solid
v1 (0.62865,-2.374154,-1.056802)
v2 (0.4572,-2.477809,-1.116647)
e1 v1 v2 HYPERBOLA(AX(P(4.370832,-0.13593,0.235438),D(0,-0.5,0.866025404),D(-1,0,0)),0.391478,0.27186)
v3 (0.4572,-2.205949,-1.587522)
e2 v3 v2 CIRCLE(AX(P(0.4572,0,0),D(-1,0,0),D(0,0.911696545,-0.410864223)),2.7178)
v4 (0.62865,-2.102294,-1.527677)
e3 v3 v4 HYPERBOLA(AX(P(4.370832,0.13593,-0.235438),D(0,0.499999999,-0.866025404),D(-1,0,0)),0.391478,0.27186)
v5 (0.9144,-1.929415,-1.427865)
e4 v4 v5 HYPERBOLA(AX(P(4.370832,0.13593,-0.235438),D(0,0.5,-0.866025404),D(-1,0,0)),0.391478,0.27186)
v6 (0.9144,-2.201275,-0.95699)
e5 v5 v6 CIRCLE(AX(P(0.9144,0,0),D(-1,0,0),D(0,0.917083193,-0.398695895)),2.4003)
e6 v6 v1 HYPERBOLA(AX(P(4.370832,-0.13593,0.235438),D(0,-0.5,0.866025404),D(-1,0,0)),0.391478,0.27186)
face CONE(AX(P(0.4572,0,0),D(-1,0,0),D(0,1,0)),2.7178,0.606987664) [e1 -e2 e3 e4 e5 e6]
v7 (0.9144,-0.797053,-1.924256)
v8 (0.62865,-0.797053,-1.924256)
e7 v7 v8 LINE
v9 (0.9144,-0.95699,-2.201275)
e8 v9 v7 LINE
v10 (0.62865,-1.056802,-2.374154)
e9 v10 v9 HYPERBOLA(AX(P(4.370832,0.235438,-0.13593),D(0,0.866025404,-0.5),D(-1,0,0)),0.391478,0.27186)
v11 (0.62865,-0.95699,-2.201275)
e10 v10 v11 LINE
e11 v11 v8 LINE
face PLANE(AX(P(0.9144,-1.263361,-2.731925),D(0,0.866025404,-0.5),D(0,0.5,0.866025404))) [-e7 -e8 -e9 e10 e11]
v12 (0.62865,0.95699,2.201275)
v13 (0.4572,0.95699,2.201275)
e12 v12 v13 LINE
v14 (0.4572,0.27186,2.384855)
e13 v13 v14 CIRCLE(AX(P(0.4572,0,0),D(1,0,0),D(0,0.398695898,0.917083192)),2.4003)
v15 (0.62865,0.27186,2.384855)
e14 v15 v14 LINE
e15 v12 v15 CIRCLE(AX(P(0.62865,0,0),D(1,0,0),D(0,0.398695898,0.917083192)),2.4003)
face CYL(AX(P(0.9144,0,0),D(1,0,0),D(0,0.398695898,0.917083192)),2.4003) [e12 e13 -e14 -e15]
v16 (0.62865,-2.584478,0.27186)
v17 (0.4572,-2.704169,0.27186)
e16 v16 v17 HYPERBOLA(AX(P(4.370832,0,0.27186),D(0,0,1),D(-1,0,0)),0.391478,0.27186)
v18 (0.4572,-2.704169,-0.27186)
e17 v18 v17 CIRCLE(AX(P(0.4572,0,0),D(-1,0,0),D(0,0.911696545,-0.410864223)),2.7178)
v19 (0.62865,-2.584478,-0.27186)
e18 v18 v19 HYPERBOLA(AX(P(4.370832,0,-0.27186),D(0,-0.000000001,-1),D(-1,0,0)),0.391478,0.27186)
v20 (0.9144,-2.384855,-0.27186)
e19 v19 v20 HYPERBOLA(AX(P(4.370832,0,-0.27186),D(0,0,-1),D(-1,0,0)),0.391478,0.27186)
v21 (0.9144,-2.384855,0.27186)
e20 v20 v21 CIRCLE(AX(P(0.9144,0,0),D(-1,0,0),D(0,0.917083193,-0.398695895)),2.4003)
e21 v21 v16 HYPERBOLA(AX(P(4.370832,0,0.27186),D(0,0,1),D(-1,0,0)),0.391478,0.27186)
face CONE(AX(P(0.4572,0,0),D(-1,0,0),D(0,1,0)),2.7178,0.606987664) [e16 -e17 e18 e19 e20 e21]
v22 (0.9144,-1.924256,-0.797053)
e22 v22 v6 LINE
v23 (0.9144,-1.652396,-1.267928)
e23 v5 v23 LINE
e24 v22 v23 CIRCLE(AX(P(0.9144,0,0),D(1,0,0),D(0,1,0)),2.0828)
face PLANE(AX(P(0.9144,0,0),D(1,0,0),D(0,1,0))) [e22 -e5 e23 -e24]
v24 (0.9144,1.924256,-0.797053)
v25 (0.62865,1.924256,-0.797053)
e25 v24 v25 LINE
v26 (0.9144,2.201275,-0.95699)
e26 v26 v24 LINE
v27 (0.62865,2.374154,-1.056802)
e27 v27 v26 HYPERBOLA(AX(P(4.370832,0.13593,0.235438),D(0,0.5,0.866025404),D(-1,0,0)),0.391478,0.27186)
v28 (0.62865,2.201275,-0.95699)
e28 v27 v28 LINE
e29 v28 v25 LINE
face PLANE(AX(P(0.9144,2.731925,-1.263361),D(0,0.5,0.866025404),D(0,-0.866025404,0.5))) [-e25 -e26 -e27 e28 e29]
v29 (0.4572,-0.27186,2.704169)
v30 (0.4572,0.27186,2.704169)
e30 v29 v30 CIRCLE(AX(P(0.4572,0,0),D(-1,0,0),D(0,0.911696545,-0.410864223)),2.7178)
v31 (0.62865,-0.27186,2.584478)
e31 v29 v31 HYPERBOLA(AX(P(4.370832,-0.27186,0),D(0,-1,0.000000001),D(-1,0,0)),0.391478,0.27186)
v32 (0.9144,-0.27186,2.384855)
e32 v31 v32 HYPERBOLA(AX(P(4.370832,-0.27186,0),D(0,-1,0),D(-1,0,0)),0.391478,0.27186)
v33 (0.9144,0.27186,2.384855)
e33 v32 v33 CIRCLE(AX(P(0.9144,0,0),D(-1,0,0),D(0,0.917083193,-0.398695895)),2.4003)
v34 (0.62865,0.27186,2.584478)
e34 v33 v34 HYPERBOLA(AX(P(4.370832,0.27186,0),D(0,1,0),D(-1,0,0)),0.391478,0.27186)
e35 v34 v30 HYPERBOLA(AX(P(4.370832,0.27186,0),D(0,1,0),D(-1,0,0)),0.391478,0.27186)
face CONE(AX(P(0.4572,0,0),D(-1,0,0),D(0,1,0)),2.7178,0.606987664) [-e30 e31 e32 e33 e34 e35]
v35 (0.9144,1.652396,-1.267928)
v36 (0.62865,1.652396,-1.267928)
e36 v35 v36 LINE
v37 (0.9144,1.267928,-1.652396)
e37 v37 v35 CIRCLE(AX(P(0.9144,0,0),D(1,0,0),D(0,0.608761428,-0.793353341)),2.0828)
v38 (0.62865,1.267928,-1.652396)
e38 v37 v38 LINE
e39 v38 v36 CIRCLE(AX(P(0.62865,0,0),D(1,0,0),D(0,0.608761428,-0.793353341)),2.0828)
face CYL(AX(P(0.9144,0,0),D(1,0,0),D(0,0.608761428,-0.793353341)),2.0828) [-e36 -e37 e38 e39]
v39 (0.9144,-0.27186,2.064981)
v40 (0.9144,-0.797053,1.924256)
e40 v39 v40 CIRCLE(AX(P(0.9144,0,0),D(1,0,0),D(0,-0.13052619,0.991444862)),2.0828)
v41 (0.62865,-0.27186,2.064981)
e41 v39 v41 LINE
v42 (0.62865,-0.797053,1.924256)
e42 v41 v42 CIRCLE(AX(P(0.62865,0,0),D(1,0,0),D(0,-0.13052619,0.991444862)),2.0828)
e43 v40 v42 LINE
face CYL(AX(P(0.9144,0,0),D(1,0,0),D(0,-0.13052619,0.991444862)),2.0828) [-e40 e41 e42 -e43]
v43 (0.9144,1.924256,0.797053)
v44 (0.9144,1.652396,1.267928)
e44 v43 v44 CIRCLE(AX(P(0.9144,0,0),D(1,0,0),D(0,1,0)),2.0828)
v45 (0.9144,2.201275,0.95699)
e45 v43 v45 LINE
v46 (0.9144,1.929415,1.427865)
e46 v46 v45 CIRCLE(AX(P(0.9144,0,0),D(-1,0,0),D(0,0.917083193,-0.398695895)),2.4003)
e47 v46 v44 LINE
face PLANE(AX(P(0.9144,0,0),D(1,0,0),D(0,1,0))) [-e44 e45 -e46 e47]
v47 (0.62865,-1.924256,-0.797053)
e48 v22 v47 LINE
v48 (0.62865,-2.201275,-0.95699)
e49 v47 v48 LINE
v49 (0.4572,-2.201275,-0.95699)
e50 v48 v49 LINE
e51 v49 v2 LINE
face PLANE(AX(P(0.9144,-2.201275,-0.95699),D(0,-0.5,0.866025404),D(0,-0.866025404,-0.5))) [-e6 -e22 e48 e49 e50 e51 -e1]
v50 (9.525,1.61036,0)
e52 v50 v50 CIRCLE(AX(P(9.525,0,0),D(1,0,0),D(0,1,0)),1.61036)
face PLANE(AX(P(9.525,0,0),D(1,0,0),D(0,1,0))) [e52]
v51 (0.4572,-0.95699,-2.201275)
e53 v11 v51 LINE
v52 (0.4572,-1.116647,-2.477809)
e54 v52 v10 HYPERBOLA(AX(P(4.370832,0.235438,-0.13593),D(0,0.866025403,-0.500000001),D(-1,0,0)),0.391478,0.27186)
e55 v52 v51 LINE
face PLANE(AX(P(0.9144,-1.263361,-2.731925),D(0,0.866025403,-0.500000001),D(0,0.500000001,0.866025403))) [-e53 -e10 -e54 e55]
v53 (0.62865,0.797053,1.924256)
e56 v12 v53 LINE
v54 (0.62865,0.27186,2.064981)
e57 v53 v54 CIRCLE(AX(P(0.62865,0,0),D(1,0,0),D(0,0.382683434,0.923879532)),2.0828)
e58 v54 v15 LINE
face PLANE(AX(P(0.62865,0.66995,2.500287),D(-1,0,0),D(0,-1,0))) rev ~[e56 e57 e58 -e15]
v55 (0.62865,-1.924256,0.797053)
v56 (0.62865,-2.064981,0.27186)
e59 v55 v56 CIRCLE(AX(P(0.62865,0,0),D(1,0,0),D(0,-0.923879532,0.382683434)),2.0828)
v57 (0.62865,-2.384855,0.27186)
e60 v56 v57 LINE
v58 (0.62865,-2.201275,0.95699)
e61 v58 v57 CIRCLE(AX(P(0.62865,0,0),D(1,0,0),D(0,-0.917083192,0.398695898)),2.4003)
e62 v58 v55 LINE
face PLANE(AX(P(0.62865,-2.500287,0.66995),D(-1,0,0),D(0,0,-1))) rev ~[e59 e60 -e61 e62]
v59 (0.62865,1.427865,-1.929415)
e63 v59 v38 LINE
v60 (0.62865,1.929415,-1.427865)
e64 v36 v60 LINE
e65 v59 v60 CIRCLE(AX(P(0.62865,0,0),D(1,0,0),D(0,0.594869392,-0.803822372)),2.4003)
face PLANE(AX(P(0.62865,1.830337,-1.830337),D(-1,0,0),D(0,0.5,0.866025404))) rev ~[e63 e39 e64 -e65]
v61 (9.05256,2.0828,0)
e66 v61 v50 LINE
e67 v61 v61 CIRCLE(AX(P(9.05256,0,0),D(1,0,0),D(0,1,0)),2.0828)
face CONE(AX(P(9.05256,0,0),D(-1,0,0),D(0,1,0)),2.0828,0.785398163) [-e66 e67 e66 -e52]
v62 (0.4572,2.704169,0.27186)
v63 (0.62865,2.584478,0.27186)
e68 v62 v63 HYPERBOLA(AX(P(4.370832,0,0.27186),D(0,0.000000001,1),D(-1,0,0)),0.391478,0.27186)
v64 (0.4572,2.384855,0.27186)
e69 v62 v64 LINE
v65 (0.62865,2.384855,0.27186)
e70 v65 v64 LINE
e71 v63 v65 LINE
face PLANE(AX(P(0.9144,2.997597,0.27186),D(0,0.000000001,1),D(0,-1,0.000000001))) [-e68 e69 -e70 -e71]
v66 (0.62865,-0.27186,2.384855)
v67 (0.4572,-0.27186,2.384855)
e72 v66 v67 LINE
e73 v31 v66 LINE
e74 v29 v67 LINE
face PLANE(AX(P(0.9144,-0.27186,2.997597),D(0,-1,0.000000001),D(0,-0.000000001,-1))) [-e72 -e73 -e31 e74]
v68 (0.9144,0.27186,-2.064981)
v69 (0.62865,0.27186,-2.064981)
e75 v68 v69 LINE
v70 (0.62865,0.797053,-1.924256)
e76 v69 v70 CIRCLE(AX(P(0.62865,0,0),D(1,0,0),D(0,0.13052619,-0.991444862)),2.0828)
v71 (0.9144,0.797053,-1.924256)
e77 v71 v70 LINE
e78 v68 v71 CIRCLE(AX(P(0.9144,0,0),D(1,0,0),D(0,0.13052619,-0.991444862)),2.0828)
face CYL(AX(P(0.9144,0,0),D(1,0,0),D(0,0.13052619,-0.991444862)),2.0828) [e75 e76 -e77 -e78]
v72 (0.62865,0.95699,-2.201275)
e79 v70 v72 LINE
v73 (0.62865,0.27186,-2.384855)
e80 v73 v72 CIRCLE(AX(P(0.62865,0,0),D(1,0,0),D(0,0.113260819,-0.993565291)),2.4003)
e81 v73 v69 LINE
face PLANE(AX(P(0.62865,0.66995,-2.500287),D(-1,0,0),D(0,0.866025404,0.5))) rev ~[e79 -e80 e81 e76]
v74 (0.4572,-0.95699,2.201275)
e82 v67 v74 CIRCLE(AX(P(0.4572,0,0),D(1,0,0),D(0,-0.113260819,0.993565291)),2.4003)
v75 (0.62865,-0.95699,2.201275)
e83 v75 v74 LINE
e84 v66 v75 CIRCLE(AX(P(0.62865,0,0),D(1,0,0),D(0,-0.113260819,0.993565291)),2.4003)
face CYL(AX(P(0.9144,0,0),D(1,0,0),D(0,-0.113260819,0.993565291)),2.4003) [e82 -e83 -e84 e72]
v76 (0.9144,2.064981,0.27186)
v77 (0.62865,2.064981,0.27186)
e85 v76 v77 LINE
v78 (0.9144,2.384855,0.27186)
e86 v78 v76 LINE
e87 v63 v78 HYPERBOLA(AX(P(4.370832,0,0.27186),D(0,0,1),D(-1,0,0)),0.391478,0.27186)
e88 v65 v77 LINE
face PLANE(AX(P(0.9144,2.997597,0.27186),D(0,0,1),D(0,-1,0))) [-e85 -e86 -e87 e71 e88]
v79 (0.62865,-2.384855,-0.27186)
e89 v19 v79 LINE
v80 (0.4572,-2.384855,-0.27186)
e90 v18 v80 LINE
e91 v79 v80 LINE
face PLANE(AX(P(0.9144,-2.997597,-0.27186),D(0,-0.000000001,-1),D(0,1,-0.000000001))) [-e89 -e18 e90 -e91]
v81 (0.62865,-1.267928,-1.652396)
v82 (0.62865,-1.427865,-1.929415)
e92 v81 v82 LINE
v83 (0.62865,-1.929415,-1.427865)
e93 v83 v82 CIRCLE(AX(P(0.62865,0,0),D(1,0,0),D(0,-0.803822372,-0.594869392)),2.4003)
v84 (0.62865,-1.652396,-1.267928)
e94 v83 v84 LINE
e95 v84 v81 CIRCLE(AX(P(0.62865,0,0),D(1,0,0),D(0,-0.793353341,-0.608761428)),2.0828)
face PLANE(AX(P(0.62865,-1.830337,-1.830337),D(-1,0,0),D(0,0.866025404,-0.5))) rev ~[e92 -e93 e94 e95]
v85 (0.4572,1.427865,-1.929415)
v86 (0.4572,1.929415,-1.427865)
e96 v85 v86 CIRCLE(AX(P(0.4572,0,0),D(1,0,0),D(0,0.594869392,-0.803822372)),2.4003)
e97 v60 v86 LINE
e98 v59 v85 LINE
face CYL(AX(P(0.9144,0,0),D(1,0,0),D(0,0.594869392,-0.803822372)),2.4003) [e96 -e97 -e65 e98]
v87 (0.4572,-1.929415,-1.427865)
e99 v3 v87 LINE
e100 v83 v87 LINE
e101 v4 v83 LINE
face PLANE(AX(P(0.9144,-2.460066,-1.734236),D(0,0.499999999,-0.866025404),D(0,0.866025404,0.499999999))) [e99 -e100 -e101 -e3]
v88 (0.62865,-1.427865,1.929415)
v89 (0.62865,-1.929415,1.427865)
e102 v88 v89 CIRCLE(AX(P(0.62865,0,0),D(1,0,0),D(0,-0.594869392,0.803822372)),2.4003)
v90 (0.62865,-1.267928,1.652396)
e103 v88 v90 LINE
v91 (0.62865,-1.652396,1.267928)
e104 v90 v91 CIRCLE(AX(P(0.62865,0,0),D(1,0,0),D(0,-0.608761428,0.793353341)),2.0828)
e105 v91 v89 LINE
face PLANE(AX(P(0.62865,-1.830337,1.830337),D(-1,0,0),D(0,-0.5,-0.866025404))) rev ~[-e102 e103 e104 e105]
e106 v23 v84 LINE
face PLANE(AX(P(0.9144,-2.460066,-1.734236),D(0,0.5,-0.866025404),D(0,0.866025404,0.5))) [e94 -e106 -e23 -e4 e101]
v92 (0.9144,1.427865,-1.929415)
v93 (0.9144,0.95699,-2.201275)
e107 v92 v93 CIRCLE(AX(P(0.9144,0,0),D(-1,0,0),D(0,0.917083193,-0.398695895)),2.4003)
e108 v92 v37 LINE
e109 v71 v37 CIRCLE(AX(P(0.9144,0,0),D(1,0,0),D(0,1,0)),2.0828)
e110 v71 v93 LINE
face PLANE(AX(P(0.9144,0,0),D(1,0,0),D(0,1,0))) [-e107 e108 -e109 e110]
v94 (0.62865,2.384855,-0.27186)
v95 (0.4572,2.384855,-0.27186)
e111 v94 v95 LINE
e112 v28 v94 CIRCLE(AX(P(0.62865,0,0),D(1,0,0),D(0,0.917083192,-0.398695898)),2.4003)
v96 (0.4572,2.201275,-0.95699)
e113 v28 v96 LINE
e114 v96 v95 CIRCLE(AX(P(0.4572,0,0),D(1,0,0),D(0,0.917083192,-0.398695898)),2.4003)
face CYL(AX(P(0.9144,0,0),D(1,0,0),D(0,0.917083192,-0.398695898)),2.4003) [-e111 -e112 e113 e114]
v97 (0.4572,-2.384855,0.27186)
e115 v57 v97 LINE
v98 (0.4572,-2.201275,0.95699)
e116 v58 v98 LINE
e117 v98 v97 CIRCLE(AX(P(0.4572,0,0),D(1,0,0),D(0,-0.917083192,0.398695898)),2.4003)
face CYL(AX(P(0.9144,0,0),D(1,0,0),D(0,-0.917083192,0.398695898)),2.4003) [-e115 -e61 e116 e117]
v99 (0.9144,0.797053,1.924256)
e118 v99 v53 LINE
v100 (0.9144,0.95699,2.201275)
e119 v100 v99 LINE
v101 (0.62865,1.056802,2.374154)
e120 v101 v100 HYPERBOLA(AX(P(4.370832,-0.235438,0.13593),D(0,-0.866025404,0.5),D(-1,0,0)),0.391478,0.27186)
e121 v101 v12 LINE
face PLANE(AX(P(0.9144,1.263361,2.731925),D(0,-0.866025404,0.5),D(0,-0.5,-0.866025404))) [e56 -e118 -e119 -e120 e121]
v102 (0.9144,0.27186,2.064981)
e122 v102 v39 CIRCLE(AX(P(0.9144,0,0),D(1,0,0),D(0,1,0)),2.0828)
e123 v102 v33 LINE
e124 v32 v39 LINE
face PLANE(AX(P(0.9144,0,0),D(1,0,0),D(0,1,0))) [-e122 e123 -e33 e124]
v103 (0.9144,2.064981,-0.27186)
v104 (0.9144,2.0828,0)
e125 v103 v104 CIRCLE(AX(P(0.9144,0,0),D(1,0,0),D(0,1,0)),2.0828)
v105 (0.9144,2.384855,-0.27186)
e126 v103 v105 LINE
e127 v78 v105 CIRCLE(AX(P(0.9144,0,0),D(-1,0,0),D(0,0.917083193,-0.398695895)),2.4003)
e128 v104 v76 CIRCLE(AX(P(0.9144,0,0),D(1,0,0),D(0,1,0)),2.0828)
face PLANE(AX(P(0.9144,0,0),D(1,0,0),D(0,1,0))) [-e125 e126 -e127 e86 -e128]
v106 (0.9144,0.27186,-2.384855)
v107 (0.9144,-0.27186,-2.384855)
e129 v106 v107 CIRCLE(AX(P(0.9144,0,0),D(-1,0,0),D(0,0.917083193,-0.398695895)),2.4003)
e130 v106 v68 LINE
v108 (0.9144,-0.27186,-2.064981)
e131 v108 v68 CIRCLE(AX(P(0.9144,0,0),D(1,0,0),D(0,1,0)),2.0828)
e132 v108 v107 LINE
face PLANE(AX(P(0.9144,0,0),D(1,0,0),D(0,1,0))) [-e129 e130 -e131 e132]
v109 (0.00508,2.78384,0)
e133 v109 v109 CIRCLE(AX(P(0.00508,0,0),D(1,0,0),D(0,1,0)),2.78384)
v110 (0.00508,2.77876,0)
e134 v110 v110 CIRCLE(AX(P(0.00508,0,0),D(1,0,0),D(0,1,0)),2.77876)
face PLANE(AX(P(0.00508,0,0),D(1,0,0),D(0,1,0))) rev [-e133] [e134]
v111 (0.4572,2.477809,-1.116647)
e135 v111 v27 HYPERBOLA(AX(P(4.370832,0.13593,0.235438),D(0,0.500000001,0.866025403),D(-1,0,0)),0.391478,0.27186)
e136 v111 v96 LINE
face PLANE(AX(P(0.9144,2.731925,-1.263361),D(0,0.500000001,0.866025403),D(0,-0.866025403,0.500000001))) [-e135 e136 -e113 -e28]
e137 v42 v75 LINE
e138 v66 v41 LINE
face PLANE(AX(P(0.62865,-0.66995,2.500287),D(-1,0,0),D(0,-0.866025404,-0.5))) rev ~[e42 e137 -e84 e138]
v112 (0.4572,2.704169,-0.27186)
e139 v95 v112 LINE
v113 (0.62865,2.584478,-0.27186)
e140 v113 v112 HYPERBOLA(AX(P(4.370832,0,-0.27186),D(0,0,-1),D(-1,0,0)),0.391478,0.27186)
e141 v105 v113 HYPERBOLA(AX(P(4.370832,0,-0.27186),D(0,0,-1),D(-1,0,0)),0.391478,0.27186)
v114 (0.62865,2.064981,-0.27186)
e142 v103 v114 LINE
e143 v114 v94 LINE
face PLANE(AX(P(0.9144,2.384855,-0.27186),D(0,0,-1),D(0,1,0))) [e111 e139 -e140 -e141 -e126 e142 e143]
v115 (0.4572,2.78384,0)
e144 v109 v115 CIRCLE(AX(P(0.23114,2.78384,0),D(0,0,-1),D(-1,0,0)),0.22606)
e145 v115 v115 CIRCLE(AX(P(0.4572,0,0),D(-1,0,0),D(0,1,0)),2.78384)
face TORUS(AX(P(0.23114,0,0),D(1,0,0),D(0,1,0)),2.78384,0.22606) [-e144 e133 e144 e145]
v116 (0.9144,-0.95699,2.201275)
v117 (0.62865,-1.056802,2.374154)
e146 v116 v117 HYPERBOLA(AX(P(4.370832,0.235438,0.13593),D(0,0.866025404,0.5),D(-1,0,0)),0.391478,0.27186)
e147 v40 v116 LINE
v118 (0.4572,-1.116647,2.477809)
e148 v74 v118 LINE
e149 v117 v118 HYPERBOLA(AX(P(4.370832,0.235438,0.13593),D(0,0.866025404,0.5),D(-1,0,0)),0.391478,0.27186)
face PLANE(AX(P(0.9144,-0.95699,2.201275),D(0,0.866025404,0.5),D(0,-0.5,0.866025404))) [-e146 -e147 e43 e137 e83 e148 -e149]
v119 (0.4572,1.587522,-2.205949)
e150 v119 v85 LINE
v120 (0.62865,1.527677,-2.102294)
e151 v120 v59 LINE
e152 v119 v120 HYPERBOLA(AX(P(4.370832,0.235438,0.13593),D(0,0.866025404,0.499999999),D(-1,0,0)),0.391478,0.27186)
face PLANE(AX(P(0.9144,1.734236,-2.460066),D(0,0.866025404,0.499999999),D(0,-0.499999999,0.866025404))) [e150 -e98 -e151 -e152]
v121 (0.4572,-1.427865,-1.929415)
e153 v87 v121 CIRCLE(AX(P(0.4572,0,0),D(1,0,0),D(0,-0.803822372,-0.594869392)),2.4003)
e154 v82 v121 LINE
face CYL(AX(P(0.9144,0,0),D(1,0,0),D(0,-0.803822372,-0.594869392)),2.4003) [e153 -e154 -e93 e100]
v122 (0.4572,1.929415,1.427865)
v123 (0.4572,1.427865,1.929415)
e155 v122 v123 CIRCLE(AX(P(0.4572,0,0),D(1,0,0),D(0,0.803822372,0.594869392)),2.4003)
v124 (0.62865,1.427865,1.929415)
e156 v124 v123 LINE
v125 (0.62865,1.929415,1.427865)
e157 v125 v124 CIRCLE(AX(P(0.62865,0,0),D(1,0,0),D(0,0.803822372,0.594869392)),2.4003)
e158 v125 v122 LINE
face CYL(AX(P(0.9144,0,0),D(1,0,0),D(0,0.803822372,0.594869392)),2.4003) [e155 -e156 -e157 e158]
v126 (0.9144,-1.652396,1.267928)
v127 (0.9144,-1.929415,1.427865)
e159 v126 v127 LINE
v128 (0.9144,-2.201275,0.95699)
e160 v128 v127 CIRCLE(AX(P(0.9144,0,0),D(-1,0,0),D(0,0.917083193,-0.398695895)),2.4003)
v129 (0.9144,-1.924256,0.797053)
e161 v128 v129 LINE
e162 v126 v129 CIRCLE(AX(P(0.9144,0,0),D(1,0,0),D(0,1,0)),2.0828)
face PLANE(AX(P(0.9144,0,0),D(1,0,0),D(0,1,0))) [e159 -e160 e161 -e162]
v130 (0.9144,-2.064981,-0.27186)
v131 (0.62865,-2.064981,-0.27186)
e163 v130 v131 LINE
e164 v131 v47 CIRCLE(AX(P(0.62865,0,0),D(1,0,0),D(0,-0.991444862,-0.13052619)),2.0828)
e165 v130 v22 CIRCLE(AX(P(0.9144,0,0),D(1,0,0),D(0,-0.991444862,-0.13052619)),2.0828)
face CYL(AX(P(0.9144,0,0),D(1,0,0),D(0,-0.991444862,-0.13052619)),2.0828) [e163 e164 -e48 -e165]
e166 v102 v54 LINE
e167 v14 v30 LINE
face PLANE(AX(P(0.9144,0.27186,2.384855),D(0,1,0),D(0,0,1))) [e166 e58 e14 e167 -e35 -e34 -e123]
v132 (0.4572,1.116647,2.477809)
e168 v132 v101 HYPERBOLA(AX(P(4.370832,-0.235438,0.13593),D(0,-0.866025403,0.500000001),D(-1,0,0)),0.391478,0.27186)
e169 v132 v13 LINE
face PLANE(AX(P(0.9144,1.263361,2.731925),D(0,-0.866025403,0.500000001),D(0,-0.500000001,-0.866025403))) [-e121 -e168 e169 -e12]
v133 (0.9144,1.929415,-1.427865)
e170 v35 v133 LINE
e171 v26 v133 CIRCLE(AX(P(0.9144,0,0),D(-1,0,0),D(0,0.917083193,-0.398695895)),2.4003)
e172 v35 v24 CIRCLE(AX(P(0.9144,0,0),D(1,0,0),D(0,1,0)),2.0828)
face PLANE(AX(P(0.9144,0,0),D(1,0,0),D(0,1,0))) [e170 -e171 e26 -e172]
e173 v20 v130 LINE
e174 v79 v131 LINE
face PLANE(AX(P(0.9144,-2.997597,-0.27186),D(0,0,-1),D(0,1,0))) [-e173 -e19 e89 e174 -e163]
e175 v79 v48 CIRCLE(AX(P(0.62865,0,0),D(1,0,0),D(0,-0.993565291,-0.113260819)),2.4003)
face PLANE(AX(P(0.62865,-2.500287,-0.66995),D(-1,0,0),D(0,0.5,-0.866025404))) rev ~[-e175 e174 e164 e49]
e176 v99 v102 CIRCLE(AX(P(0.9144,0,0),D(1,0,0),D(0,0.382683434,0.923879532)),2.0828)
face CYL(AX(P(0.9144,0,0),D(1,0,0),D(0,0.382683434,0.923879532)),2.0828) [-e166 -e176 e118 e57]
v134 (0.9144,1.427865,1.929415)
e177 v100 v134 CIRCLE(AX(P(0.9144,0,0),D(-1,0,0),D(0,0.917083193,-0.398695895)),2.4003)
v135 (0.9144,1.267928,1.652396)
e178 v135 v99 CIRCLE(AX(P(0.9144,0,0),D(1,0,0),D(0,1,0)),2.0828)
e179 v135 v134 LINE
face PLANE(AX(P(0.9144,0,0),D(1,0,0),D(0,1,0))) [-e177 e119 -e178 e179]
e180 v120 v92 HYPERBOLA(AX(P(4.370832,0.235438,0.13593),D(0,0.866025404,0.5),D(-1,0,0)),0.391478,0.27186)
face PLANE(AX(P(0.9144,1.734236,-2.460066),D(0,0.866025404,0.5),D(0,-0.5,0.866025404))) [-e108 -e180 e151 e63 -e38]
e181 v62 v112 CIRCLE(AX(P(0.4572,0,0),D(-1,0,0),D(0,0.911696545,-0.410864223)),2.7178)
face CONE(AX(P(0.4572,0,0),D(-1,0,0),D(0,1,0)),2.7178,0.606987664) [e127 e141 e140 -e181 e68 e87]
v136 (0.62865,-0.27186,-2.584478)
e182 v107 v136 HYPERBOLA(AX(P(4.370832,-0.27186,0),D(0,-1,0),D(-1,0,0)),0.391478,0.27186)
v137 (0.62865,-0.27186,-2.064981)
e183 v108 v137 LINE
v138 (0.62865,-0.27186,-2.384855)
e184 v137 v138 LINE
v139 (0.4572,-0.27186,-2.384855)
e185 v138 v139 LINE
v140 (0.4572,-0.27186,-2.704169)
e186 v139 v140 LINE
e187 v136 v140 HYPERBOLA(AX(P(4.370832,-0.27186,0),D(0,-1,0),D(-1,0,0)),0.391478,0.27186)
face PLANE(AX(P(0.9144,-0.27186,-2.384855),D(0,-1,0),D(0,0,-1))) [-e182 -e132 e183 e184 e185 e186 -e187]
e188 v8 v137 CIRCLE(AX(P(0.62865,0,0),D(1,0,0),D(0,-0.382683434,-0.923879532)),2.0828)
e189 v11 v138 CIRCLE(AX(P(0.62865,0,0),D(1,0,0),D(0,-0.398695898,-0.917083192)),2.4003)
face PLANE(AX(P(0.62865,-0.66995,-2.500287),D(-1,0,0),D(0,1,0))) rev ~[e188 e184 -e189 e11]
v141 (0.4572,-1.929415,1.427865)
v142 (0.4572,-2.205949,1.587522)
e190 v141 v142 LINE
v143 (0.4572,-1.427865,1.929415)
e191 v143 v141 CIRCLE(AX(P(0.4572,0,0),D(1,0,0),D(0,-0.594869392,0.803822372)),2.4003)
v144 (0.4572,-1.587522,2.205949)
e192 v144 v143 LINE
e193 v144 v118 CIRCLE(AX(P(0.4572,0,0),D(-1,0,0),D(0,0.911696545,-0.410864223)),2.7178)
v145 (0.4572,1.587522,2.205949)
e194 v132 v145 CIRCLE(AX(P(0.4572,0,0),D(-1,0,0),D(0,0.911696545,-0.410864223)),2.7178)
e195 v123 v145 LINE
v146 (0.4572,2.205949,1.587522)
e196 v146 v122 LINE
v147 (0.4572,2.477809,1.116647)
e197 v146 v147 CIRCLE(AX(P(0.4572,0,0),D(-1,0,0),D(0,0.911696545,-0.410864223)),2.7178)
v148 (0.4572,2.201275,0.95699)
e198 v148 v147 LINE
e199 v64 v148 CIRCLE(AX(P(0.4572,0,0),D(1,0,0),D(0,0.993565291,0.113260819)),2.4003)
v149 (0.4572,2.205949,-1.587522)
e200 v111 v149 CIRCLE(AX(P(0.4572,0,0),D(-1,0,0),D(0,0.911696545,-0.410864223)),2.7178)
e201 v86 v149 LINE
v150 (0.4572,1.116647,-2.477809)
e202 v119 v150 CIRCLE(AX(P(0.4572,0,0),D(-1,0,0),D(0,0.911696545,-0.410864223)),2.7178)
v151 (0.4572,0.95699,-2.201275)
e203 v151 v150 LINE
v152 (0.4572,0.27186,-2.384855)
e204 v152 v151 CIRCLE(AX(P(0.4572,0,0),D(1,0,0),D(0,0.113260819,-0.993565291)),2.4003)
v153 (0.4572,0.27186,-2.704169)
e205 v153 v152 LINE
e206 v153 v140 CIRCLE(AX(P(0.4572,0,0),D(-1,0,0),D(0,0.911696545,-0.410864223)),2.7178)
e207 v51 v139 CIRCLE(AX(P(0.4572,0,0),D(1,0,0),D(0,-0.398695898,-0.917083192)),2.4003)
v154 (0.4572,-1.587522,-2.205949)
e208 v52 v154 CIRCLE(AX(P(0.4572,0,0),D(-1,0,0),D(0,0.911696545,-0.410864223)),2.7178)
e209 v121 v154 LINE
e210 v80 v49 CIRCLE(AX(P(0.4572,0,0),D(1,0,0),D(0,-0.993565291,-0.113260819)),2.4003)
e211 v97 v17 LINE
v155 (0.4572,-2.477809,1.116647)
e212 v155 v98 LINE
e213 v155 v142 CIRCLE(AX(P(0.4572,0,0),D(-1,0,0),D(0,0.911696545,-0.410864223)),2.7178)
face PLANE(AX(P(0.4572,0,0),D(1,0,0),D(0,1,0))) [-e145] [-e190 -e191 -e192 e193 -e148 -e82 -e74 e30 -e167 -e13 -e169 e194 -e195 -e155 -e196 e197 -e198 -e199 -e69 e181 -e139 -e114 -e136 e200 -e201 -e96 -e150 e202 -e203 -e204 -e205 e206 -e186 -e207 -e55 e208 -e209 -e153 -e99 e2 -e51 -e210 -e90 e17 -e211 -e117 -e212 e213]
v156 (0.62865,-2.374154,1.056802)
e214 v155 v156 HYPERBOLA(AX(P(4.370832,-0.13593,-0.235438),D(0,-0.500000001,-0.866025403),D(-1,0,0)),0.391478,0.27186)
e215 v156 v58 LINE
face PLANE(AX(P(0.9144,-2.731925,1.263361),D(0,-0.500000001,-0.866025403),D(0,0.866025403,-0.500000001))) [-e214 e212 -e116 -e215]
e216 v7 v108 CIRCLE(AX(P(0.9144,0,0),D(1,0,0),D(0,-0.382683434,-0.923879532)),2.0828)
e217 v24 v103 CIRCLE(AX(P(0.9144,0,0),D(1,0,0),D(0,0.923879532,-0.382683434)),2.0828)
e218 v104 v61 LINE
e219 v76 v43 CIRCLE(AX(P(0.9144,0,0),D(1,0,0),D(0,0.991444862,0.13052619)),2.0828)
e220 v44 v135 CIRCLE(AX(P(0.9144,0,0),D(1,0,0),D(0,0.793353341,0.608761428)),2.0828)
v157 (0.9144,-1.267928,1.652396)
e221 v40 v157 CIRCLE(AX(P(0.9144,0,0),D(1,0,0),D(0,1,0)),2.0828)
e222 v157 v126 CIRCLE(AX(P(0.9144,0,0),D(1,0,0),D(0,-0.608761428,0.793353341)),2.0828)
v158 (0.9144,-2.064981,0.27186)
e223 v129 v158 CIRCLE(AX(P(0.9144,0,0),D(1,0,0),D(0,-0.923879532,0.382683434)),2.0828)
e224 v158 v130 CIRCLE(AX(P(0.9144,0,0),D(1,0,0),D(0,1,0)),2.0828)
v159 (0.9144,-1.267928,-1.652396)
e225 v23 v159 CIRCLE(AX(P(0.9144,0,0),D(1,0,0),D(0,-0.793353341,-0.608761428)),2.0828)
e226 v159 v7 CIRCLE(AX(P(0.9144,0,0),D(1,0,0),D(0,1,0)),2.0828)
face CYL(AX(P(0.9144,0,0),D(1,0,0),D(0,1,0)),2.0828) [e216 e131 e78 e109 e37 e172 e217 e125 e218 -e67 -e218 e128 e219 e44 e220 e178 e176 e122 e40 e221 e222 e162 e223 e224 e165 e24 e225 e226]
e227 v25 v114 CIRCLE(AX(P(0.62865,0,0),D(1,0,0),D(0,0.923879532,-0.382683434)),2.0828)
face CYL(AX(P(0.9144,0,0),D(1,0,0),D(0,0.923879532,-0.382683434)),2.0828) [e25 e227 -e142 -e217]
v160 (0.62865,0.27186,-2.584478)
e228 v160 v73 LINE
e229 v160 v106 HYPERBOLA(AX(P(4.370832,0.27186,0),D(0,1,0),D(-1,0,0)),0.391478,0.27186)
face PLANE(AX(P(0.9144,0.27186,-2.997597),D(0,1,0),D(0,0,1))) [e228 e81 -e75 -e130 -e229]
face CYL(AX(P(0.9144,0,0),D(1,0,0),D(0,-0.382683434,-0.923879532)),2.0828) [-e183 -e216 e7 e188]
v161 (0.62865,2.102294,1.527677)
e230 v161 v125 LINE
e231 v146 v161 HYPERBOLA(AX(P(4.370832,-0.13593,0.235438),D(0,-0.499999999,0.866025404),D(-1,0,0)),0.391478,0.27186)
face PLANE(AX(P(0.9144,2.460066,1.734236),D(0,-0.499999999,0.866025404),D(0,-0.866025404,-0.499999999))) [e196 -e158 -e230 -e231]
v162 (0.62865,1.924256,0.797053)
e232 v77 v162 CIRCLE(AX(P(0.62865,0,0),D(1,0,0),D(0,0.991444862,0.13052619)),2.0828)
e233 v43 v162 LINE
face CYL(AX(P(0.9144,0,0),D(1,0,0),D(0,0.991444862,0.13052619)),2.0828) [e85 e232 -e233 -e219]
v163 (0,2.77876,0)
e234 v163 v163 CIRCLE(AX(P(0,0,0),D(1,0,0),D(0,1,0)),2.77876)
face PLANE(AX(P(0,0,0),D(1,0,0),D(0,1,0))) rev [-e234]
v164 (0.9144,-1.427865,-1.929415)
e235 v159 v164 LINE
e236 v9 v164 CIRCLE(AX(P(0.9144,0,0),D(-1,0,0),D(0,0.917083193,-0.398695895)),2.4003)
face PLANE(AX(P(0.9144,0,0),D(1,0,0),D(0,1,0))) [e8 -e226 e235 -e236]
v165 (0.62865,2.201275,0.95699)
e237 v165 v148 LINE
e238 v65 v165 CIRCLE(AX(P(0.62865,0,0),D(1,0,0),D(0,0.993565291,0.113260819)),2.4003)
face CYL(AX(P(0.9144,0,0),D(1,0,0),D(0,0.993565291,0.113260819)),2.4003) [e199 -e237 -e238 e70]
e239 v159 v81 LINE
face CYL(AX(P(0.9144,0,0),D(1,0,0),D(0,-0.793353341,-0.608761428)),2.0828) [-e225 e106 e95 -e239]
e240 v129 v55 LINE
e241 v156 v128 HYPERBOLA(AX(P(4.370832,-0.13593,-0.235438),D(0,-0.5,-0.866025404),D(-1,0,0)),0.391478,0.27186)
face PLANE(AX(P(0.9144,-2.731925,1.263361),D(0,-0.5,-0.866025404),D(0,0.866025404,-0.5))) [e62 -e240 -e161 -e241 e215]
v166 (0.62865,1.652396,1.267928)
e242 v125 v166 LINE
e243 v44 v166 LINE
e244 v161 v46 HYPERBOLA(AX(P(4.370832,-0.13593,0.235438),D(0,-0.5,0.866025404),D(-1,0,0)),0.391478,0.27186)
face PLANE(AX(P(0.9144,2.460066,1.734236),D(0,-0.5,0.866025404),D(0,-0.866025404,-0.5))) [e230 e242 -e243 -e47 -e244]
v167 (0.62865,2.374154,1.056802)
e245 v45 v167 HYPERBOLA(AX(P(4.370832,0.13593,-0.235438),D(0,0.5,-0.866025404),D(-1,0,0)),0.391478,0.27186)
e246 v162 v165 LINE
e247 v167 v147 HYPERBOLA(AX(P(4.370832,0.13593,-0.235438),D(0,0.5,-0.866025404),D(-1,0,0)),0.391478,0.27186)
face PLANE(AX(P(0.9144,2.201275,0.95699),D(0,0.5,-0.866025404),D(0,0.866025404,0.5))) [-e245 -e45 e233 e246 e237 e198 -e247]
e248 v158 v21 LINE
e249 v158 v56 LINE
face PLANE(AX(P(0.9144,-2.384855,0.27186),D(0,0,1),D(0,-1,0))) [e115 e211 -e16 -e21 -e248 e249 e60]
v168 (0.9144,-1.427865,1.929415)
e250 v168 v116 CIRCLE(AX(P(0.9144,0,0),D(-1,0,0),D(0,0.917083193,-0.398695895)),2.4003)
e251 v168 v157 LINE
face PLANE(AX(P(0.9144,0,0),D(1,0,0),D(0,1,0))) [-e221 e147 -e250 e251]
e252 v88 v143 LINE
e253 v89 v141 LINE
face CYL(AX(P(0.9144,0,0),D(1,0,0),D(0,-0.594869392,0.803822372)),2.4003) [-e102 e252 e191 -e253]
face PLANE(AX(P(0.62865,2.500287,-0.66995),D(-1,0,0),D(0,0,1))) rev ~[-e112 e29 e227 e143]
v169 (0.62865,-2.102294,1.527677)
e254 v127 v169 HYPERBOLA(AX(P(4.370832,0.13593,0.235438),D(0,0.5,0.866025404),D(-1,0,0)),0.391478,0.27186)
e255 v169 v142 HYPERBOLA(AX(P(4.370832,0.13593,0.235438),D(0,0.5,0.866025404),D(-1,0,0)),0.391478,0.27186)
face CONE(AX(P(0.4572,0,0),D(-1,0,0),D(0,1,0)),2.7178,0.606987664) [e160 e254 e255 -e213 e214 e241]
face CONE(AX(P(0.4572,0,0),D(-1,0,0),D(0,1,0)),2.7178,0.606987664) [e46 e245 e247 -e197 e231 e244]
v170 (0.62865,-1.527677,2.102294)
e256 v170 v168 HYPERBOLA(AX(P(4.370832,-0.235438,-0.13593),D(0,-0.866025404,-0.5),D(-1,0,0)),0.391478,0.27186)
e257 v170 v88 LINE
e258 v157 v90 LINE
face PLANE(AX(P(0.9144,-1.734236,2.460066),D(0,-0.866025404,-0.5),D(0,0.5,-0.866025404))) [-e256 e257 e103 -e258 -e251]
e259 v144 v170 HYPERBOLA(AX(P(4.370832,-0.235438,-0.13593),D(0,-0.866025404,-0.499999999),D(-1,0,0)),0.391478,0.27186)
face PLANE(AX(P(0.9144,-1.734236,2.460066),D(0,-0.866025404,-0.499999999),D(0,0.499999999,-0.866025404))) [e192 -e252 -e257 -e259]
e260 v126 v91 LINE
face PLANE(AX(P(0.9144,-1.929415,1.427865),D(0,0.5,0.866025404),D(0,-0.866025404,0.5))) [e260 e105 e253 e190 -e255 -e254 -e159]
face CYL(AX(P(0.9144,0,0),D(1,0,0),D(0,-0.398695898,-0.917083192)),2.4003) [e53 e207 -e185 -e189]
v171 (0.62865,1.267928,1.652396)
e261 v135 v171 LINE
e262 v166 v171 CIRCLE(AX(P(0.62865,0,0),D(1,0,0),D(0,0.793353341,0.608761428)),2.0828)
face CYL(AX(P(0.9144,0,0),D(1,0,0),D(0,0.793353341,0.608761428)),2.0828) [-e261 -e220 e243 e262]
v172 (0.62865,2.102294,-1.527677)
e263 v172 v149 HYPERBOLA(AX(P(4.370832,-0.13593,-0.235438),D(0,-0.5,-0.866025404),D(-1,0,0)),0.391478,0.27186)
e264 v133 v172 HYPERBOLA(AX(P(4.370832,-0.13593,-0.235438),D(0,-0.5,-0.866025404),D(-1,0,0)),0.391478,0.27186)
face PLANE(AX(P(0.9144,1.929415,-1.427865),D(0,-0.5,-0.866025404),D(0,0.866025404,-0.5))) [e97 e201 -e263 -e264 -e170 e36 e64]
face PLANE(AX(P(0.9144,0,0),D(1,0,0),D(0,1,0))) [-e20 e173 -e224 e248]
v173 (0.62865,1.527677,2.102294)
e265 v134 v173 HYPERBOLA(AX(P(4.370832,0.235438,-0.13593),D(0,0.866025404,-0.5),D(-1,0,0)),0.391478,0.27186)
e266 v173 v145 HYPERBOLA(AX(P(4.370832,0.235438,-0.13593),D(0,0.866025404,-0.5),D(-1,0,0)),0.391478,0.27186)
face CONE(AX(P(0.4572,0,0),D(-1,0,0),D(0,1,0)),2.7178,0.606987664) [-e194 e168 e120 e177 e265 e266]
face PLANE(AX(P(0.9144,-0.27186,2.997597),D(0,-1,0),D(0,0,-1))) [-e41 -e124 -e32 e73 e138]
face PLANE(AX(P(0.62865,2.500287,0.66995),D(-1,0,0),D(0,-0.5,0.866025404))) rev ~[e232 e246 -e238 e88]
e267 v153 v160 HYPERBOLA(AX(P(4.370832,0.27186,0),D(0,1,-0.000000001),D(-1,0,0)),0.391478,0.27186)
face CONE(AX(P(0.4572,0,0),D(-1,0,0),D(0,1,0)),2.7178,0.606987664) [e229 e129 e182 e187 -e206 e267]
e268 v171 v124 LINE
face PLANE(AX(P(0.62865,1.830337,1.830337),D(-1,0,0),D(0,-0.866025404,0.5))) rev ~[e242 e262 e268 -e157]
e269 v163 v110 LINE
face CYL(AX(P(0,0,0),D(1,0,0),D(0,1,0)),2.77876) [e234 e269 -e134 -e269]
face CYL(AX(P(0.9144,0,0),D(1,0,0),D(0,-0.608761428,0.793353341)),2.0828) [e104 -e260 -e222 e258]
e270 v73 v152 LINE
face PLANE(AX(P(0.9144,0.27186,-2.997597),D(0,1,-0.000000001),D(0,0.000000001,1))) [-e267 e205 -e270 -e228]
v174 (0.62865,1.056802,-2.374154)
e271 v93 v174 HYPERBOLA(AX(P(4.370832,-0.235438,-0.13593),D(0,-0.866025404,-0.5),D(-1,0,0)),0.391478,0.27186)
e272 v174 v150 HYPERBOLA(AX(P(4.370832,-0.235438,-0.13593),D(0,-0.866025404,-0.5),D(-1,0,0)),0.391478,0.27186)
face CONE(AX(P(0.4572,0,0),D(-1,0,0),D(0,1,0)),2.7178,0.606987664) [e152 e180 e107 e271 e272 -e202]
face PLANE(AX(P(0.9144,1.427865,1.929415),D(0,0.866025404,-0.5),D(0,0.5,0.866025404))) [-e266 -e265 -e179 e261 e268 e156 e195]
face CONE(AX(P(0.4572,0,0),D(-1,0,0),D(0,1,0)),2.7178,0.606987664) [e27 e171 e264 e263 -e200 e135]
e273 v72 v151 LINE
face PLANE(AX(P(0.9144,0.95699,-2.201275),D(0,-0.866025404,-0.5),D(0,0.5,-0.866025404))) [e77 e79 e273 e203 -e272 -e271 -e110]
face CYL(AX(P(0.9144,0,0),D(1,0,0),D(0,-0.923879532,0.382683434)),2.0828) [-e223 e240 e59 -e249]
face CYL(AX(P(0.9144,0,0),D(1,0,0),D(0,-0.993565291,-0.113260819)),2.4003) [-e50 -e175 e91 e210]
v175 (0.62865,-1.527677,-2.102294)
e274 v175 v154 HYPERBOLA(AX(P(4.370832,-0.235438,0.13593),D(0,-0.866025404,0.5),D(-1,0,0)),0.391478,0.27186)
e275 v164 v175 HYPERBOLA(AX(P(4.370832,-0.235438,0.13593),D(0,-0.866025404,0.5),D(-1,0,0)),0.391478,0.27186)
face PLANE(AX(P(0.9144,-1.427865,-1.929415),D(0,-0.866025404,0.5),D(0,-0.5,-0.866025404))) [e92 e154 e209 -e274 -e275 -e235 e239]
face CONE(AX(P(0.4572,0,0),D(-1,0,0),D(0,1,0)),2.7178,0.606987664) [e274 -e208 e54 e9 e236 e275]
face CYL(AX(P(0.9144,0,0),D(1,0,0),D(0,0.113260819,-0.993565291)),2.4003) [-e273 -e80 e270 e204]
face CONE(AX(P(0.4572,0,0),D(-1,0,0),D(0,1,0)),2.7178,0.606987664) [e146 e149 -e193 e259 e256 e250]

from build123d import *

# Parameters (mm, degrees)
RIBCUT1_DEPTH    = 0.28575
RIBCUT2_DEPTH    = 0.4572
RIBCUTSPAT_COUNT = 12
RIBCUTSPAT_ANGLE = 330


with BuildPart() as part:
    # BodySke → BaseBody (revolve)
    with BuildSketch(Plane.XY):
        with BuildLine():
            Line((0, 0), (0, 2.77876))
            Line((0, 2.77876), (0.00508, 2.77876))
            Line((0.00508, 2.77876), (0.00508, 2.78384))
            ThreePointArc((0.00508, 2.78384), (0.23114, 3.0099), (0.4572, 2.78384))
            Line((0.4572, 2.78384), (0.4572, 2.7178))
            Line((0.4572, 2.7178), (0.9144, 2.4003))
            Line((0.9144, 2.4003), (0.9144, 2.0828))
            Line((0.9144, 2.0828), (9.05256, 2.0828))
            Line((9.05256, 2.0828), (9.525, 1.61036))
            Line((9.525, 1.61036), (9.525, 0))
            Line((9.525, 0), (0, 0))
        make_face()
    revolve(axis=Axis((0, 0, 0), (1, 0, 0)))

    # RibCut1Ske → RibCut1 (cut)
    with BuildSketch(Plane(origin=(0.9144, 0, 0), x_dir=(0, 0, -1), z_dir=(1, 0, 0))):
        with BuildLine():
            Line((0.271859953, 2.064981357), (0.271859953, 2.997597401))
            ThreePointArc((0.271859953, 2.997597401), (0.779019444, 2.907340145), (1.263361075, 2.731925476))
            Line((1.263361075, 2.731925476), (0.797053053, 1.92425629))
            ThreePointArc((0.797053053, 1.92425629), (0.539068307, 2.011830311), (0.271859953, 2.064981357))
        make_face()
    ribcut1 = extrude(amount=-RIBCUT1_DEPTH, mode=Mode.SUBTRACT)

    # RibCut2Ske → RibCut2 (cut)
    with BuildSketch(Plane(origin=(0.9144, 0, 0), x_dir=(0, 0, -1), z_dir=(1, 0, 0))):
        with BuildLine():
            Line((0.271859953, 2.384854766), (0.271859953, 2.997597401))
            ThreePointArc((0.271859953, 2.997597401), (0.779019444, 2.907340145), (1.263361075, 2.731925476))
            Line((1.263361075, 2.731925476), (0.956989757, 2.201274788))
            ThreePointArc((0.956989757, 2.201274788), (0.621243354, 2.318511761), (0.271859953, 2.384854766))
        make_face()
    ribcut2 = extrude(amount=-RIBCUT2_DEPTH, mode=Mode.SUBTRACT)

    # RibCutsPat: RibCut1, RibCut2 ×12 about axis
    ribcutspat_axis = Axis((0, 0, 0), (1, 0, 0))
    for i in range(1, RIBCUTSPAT_COUNT):
        add(ribcut1.rotate(ribcutspat_axis, i * RIBCUTSPAT_ANGLE / (RIBCUTSPAT_COUNT - 1)), mode=Mode.SUBTRACT)
        add(ribcut2.rotate(ribcutspat_axis, i * RIBCUTSPAT_ANGLE / (RIBCUTSPAT_COUNT - 1)), mode=Mode.SUBTRACT)


solid = part.part
